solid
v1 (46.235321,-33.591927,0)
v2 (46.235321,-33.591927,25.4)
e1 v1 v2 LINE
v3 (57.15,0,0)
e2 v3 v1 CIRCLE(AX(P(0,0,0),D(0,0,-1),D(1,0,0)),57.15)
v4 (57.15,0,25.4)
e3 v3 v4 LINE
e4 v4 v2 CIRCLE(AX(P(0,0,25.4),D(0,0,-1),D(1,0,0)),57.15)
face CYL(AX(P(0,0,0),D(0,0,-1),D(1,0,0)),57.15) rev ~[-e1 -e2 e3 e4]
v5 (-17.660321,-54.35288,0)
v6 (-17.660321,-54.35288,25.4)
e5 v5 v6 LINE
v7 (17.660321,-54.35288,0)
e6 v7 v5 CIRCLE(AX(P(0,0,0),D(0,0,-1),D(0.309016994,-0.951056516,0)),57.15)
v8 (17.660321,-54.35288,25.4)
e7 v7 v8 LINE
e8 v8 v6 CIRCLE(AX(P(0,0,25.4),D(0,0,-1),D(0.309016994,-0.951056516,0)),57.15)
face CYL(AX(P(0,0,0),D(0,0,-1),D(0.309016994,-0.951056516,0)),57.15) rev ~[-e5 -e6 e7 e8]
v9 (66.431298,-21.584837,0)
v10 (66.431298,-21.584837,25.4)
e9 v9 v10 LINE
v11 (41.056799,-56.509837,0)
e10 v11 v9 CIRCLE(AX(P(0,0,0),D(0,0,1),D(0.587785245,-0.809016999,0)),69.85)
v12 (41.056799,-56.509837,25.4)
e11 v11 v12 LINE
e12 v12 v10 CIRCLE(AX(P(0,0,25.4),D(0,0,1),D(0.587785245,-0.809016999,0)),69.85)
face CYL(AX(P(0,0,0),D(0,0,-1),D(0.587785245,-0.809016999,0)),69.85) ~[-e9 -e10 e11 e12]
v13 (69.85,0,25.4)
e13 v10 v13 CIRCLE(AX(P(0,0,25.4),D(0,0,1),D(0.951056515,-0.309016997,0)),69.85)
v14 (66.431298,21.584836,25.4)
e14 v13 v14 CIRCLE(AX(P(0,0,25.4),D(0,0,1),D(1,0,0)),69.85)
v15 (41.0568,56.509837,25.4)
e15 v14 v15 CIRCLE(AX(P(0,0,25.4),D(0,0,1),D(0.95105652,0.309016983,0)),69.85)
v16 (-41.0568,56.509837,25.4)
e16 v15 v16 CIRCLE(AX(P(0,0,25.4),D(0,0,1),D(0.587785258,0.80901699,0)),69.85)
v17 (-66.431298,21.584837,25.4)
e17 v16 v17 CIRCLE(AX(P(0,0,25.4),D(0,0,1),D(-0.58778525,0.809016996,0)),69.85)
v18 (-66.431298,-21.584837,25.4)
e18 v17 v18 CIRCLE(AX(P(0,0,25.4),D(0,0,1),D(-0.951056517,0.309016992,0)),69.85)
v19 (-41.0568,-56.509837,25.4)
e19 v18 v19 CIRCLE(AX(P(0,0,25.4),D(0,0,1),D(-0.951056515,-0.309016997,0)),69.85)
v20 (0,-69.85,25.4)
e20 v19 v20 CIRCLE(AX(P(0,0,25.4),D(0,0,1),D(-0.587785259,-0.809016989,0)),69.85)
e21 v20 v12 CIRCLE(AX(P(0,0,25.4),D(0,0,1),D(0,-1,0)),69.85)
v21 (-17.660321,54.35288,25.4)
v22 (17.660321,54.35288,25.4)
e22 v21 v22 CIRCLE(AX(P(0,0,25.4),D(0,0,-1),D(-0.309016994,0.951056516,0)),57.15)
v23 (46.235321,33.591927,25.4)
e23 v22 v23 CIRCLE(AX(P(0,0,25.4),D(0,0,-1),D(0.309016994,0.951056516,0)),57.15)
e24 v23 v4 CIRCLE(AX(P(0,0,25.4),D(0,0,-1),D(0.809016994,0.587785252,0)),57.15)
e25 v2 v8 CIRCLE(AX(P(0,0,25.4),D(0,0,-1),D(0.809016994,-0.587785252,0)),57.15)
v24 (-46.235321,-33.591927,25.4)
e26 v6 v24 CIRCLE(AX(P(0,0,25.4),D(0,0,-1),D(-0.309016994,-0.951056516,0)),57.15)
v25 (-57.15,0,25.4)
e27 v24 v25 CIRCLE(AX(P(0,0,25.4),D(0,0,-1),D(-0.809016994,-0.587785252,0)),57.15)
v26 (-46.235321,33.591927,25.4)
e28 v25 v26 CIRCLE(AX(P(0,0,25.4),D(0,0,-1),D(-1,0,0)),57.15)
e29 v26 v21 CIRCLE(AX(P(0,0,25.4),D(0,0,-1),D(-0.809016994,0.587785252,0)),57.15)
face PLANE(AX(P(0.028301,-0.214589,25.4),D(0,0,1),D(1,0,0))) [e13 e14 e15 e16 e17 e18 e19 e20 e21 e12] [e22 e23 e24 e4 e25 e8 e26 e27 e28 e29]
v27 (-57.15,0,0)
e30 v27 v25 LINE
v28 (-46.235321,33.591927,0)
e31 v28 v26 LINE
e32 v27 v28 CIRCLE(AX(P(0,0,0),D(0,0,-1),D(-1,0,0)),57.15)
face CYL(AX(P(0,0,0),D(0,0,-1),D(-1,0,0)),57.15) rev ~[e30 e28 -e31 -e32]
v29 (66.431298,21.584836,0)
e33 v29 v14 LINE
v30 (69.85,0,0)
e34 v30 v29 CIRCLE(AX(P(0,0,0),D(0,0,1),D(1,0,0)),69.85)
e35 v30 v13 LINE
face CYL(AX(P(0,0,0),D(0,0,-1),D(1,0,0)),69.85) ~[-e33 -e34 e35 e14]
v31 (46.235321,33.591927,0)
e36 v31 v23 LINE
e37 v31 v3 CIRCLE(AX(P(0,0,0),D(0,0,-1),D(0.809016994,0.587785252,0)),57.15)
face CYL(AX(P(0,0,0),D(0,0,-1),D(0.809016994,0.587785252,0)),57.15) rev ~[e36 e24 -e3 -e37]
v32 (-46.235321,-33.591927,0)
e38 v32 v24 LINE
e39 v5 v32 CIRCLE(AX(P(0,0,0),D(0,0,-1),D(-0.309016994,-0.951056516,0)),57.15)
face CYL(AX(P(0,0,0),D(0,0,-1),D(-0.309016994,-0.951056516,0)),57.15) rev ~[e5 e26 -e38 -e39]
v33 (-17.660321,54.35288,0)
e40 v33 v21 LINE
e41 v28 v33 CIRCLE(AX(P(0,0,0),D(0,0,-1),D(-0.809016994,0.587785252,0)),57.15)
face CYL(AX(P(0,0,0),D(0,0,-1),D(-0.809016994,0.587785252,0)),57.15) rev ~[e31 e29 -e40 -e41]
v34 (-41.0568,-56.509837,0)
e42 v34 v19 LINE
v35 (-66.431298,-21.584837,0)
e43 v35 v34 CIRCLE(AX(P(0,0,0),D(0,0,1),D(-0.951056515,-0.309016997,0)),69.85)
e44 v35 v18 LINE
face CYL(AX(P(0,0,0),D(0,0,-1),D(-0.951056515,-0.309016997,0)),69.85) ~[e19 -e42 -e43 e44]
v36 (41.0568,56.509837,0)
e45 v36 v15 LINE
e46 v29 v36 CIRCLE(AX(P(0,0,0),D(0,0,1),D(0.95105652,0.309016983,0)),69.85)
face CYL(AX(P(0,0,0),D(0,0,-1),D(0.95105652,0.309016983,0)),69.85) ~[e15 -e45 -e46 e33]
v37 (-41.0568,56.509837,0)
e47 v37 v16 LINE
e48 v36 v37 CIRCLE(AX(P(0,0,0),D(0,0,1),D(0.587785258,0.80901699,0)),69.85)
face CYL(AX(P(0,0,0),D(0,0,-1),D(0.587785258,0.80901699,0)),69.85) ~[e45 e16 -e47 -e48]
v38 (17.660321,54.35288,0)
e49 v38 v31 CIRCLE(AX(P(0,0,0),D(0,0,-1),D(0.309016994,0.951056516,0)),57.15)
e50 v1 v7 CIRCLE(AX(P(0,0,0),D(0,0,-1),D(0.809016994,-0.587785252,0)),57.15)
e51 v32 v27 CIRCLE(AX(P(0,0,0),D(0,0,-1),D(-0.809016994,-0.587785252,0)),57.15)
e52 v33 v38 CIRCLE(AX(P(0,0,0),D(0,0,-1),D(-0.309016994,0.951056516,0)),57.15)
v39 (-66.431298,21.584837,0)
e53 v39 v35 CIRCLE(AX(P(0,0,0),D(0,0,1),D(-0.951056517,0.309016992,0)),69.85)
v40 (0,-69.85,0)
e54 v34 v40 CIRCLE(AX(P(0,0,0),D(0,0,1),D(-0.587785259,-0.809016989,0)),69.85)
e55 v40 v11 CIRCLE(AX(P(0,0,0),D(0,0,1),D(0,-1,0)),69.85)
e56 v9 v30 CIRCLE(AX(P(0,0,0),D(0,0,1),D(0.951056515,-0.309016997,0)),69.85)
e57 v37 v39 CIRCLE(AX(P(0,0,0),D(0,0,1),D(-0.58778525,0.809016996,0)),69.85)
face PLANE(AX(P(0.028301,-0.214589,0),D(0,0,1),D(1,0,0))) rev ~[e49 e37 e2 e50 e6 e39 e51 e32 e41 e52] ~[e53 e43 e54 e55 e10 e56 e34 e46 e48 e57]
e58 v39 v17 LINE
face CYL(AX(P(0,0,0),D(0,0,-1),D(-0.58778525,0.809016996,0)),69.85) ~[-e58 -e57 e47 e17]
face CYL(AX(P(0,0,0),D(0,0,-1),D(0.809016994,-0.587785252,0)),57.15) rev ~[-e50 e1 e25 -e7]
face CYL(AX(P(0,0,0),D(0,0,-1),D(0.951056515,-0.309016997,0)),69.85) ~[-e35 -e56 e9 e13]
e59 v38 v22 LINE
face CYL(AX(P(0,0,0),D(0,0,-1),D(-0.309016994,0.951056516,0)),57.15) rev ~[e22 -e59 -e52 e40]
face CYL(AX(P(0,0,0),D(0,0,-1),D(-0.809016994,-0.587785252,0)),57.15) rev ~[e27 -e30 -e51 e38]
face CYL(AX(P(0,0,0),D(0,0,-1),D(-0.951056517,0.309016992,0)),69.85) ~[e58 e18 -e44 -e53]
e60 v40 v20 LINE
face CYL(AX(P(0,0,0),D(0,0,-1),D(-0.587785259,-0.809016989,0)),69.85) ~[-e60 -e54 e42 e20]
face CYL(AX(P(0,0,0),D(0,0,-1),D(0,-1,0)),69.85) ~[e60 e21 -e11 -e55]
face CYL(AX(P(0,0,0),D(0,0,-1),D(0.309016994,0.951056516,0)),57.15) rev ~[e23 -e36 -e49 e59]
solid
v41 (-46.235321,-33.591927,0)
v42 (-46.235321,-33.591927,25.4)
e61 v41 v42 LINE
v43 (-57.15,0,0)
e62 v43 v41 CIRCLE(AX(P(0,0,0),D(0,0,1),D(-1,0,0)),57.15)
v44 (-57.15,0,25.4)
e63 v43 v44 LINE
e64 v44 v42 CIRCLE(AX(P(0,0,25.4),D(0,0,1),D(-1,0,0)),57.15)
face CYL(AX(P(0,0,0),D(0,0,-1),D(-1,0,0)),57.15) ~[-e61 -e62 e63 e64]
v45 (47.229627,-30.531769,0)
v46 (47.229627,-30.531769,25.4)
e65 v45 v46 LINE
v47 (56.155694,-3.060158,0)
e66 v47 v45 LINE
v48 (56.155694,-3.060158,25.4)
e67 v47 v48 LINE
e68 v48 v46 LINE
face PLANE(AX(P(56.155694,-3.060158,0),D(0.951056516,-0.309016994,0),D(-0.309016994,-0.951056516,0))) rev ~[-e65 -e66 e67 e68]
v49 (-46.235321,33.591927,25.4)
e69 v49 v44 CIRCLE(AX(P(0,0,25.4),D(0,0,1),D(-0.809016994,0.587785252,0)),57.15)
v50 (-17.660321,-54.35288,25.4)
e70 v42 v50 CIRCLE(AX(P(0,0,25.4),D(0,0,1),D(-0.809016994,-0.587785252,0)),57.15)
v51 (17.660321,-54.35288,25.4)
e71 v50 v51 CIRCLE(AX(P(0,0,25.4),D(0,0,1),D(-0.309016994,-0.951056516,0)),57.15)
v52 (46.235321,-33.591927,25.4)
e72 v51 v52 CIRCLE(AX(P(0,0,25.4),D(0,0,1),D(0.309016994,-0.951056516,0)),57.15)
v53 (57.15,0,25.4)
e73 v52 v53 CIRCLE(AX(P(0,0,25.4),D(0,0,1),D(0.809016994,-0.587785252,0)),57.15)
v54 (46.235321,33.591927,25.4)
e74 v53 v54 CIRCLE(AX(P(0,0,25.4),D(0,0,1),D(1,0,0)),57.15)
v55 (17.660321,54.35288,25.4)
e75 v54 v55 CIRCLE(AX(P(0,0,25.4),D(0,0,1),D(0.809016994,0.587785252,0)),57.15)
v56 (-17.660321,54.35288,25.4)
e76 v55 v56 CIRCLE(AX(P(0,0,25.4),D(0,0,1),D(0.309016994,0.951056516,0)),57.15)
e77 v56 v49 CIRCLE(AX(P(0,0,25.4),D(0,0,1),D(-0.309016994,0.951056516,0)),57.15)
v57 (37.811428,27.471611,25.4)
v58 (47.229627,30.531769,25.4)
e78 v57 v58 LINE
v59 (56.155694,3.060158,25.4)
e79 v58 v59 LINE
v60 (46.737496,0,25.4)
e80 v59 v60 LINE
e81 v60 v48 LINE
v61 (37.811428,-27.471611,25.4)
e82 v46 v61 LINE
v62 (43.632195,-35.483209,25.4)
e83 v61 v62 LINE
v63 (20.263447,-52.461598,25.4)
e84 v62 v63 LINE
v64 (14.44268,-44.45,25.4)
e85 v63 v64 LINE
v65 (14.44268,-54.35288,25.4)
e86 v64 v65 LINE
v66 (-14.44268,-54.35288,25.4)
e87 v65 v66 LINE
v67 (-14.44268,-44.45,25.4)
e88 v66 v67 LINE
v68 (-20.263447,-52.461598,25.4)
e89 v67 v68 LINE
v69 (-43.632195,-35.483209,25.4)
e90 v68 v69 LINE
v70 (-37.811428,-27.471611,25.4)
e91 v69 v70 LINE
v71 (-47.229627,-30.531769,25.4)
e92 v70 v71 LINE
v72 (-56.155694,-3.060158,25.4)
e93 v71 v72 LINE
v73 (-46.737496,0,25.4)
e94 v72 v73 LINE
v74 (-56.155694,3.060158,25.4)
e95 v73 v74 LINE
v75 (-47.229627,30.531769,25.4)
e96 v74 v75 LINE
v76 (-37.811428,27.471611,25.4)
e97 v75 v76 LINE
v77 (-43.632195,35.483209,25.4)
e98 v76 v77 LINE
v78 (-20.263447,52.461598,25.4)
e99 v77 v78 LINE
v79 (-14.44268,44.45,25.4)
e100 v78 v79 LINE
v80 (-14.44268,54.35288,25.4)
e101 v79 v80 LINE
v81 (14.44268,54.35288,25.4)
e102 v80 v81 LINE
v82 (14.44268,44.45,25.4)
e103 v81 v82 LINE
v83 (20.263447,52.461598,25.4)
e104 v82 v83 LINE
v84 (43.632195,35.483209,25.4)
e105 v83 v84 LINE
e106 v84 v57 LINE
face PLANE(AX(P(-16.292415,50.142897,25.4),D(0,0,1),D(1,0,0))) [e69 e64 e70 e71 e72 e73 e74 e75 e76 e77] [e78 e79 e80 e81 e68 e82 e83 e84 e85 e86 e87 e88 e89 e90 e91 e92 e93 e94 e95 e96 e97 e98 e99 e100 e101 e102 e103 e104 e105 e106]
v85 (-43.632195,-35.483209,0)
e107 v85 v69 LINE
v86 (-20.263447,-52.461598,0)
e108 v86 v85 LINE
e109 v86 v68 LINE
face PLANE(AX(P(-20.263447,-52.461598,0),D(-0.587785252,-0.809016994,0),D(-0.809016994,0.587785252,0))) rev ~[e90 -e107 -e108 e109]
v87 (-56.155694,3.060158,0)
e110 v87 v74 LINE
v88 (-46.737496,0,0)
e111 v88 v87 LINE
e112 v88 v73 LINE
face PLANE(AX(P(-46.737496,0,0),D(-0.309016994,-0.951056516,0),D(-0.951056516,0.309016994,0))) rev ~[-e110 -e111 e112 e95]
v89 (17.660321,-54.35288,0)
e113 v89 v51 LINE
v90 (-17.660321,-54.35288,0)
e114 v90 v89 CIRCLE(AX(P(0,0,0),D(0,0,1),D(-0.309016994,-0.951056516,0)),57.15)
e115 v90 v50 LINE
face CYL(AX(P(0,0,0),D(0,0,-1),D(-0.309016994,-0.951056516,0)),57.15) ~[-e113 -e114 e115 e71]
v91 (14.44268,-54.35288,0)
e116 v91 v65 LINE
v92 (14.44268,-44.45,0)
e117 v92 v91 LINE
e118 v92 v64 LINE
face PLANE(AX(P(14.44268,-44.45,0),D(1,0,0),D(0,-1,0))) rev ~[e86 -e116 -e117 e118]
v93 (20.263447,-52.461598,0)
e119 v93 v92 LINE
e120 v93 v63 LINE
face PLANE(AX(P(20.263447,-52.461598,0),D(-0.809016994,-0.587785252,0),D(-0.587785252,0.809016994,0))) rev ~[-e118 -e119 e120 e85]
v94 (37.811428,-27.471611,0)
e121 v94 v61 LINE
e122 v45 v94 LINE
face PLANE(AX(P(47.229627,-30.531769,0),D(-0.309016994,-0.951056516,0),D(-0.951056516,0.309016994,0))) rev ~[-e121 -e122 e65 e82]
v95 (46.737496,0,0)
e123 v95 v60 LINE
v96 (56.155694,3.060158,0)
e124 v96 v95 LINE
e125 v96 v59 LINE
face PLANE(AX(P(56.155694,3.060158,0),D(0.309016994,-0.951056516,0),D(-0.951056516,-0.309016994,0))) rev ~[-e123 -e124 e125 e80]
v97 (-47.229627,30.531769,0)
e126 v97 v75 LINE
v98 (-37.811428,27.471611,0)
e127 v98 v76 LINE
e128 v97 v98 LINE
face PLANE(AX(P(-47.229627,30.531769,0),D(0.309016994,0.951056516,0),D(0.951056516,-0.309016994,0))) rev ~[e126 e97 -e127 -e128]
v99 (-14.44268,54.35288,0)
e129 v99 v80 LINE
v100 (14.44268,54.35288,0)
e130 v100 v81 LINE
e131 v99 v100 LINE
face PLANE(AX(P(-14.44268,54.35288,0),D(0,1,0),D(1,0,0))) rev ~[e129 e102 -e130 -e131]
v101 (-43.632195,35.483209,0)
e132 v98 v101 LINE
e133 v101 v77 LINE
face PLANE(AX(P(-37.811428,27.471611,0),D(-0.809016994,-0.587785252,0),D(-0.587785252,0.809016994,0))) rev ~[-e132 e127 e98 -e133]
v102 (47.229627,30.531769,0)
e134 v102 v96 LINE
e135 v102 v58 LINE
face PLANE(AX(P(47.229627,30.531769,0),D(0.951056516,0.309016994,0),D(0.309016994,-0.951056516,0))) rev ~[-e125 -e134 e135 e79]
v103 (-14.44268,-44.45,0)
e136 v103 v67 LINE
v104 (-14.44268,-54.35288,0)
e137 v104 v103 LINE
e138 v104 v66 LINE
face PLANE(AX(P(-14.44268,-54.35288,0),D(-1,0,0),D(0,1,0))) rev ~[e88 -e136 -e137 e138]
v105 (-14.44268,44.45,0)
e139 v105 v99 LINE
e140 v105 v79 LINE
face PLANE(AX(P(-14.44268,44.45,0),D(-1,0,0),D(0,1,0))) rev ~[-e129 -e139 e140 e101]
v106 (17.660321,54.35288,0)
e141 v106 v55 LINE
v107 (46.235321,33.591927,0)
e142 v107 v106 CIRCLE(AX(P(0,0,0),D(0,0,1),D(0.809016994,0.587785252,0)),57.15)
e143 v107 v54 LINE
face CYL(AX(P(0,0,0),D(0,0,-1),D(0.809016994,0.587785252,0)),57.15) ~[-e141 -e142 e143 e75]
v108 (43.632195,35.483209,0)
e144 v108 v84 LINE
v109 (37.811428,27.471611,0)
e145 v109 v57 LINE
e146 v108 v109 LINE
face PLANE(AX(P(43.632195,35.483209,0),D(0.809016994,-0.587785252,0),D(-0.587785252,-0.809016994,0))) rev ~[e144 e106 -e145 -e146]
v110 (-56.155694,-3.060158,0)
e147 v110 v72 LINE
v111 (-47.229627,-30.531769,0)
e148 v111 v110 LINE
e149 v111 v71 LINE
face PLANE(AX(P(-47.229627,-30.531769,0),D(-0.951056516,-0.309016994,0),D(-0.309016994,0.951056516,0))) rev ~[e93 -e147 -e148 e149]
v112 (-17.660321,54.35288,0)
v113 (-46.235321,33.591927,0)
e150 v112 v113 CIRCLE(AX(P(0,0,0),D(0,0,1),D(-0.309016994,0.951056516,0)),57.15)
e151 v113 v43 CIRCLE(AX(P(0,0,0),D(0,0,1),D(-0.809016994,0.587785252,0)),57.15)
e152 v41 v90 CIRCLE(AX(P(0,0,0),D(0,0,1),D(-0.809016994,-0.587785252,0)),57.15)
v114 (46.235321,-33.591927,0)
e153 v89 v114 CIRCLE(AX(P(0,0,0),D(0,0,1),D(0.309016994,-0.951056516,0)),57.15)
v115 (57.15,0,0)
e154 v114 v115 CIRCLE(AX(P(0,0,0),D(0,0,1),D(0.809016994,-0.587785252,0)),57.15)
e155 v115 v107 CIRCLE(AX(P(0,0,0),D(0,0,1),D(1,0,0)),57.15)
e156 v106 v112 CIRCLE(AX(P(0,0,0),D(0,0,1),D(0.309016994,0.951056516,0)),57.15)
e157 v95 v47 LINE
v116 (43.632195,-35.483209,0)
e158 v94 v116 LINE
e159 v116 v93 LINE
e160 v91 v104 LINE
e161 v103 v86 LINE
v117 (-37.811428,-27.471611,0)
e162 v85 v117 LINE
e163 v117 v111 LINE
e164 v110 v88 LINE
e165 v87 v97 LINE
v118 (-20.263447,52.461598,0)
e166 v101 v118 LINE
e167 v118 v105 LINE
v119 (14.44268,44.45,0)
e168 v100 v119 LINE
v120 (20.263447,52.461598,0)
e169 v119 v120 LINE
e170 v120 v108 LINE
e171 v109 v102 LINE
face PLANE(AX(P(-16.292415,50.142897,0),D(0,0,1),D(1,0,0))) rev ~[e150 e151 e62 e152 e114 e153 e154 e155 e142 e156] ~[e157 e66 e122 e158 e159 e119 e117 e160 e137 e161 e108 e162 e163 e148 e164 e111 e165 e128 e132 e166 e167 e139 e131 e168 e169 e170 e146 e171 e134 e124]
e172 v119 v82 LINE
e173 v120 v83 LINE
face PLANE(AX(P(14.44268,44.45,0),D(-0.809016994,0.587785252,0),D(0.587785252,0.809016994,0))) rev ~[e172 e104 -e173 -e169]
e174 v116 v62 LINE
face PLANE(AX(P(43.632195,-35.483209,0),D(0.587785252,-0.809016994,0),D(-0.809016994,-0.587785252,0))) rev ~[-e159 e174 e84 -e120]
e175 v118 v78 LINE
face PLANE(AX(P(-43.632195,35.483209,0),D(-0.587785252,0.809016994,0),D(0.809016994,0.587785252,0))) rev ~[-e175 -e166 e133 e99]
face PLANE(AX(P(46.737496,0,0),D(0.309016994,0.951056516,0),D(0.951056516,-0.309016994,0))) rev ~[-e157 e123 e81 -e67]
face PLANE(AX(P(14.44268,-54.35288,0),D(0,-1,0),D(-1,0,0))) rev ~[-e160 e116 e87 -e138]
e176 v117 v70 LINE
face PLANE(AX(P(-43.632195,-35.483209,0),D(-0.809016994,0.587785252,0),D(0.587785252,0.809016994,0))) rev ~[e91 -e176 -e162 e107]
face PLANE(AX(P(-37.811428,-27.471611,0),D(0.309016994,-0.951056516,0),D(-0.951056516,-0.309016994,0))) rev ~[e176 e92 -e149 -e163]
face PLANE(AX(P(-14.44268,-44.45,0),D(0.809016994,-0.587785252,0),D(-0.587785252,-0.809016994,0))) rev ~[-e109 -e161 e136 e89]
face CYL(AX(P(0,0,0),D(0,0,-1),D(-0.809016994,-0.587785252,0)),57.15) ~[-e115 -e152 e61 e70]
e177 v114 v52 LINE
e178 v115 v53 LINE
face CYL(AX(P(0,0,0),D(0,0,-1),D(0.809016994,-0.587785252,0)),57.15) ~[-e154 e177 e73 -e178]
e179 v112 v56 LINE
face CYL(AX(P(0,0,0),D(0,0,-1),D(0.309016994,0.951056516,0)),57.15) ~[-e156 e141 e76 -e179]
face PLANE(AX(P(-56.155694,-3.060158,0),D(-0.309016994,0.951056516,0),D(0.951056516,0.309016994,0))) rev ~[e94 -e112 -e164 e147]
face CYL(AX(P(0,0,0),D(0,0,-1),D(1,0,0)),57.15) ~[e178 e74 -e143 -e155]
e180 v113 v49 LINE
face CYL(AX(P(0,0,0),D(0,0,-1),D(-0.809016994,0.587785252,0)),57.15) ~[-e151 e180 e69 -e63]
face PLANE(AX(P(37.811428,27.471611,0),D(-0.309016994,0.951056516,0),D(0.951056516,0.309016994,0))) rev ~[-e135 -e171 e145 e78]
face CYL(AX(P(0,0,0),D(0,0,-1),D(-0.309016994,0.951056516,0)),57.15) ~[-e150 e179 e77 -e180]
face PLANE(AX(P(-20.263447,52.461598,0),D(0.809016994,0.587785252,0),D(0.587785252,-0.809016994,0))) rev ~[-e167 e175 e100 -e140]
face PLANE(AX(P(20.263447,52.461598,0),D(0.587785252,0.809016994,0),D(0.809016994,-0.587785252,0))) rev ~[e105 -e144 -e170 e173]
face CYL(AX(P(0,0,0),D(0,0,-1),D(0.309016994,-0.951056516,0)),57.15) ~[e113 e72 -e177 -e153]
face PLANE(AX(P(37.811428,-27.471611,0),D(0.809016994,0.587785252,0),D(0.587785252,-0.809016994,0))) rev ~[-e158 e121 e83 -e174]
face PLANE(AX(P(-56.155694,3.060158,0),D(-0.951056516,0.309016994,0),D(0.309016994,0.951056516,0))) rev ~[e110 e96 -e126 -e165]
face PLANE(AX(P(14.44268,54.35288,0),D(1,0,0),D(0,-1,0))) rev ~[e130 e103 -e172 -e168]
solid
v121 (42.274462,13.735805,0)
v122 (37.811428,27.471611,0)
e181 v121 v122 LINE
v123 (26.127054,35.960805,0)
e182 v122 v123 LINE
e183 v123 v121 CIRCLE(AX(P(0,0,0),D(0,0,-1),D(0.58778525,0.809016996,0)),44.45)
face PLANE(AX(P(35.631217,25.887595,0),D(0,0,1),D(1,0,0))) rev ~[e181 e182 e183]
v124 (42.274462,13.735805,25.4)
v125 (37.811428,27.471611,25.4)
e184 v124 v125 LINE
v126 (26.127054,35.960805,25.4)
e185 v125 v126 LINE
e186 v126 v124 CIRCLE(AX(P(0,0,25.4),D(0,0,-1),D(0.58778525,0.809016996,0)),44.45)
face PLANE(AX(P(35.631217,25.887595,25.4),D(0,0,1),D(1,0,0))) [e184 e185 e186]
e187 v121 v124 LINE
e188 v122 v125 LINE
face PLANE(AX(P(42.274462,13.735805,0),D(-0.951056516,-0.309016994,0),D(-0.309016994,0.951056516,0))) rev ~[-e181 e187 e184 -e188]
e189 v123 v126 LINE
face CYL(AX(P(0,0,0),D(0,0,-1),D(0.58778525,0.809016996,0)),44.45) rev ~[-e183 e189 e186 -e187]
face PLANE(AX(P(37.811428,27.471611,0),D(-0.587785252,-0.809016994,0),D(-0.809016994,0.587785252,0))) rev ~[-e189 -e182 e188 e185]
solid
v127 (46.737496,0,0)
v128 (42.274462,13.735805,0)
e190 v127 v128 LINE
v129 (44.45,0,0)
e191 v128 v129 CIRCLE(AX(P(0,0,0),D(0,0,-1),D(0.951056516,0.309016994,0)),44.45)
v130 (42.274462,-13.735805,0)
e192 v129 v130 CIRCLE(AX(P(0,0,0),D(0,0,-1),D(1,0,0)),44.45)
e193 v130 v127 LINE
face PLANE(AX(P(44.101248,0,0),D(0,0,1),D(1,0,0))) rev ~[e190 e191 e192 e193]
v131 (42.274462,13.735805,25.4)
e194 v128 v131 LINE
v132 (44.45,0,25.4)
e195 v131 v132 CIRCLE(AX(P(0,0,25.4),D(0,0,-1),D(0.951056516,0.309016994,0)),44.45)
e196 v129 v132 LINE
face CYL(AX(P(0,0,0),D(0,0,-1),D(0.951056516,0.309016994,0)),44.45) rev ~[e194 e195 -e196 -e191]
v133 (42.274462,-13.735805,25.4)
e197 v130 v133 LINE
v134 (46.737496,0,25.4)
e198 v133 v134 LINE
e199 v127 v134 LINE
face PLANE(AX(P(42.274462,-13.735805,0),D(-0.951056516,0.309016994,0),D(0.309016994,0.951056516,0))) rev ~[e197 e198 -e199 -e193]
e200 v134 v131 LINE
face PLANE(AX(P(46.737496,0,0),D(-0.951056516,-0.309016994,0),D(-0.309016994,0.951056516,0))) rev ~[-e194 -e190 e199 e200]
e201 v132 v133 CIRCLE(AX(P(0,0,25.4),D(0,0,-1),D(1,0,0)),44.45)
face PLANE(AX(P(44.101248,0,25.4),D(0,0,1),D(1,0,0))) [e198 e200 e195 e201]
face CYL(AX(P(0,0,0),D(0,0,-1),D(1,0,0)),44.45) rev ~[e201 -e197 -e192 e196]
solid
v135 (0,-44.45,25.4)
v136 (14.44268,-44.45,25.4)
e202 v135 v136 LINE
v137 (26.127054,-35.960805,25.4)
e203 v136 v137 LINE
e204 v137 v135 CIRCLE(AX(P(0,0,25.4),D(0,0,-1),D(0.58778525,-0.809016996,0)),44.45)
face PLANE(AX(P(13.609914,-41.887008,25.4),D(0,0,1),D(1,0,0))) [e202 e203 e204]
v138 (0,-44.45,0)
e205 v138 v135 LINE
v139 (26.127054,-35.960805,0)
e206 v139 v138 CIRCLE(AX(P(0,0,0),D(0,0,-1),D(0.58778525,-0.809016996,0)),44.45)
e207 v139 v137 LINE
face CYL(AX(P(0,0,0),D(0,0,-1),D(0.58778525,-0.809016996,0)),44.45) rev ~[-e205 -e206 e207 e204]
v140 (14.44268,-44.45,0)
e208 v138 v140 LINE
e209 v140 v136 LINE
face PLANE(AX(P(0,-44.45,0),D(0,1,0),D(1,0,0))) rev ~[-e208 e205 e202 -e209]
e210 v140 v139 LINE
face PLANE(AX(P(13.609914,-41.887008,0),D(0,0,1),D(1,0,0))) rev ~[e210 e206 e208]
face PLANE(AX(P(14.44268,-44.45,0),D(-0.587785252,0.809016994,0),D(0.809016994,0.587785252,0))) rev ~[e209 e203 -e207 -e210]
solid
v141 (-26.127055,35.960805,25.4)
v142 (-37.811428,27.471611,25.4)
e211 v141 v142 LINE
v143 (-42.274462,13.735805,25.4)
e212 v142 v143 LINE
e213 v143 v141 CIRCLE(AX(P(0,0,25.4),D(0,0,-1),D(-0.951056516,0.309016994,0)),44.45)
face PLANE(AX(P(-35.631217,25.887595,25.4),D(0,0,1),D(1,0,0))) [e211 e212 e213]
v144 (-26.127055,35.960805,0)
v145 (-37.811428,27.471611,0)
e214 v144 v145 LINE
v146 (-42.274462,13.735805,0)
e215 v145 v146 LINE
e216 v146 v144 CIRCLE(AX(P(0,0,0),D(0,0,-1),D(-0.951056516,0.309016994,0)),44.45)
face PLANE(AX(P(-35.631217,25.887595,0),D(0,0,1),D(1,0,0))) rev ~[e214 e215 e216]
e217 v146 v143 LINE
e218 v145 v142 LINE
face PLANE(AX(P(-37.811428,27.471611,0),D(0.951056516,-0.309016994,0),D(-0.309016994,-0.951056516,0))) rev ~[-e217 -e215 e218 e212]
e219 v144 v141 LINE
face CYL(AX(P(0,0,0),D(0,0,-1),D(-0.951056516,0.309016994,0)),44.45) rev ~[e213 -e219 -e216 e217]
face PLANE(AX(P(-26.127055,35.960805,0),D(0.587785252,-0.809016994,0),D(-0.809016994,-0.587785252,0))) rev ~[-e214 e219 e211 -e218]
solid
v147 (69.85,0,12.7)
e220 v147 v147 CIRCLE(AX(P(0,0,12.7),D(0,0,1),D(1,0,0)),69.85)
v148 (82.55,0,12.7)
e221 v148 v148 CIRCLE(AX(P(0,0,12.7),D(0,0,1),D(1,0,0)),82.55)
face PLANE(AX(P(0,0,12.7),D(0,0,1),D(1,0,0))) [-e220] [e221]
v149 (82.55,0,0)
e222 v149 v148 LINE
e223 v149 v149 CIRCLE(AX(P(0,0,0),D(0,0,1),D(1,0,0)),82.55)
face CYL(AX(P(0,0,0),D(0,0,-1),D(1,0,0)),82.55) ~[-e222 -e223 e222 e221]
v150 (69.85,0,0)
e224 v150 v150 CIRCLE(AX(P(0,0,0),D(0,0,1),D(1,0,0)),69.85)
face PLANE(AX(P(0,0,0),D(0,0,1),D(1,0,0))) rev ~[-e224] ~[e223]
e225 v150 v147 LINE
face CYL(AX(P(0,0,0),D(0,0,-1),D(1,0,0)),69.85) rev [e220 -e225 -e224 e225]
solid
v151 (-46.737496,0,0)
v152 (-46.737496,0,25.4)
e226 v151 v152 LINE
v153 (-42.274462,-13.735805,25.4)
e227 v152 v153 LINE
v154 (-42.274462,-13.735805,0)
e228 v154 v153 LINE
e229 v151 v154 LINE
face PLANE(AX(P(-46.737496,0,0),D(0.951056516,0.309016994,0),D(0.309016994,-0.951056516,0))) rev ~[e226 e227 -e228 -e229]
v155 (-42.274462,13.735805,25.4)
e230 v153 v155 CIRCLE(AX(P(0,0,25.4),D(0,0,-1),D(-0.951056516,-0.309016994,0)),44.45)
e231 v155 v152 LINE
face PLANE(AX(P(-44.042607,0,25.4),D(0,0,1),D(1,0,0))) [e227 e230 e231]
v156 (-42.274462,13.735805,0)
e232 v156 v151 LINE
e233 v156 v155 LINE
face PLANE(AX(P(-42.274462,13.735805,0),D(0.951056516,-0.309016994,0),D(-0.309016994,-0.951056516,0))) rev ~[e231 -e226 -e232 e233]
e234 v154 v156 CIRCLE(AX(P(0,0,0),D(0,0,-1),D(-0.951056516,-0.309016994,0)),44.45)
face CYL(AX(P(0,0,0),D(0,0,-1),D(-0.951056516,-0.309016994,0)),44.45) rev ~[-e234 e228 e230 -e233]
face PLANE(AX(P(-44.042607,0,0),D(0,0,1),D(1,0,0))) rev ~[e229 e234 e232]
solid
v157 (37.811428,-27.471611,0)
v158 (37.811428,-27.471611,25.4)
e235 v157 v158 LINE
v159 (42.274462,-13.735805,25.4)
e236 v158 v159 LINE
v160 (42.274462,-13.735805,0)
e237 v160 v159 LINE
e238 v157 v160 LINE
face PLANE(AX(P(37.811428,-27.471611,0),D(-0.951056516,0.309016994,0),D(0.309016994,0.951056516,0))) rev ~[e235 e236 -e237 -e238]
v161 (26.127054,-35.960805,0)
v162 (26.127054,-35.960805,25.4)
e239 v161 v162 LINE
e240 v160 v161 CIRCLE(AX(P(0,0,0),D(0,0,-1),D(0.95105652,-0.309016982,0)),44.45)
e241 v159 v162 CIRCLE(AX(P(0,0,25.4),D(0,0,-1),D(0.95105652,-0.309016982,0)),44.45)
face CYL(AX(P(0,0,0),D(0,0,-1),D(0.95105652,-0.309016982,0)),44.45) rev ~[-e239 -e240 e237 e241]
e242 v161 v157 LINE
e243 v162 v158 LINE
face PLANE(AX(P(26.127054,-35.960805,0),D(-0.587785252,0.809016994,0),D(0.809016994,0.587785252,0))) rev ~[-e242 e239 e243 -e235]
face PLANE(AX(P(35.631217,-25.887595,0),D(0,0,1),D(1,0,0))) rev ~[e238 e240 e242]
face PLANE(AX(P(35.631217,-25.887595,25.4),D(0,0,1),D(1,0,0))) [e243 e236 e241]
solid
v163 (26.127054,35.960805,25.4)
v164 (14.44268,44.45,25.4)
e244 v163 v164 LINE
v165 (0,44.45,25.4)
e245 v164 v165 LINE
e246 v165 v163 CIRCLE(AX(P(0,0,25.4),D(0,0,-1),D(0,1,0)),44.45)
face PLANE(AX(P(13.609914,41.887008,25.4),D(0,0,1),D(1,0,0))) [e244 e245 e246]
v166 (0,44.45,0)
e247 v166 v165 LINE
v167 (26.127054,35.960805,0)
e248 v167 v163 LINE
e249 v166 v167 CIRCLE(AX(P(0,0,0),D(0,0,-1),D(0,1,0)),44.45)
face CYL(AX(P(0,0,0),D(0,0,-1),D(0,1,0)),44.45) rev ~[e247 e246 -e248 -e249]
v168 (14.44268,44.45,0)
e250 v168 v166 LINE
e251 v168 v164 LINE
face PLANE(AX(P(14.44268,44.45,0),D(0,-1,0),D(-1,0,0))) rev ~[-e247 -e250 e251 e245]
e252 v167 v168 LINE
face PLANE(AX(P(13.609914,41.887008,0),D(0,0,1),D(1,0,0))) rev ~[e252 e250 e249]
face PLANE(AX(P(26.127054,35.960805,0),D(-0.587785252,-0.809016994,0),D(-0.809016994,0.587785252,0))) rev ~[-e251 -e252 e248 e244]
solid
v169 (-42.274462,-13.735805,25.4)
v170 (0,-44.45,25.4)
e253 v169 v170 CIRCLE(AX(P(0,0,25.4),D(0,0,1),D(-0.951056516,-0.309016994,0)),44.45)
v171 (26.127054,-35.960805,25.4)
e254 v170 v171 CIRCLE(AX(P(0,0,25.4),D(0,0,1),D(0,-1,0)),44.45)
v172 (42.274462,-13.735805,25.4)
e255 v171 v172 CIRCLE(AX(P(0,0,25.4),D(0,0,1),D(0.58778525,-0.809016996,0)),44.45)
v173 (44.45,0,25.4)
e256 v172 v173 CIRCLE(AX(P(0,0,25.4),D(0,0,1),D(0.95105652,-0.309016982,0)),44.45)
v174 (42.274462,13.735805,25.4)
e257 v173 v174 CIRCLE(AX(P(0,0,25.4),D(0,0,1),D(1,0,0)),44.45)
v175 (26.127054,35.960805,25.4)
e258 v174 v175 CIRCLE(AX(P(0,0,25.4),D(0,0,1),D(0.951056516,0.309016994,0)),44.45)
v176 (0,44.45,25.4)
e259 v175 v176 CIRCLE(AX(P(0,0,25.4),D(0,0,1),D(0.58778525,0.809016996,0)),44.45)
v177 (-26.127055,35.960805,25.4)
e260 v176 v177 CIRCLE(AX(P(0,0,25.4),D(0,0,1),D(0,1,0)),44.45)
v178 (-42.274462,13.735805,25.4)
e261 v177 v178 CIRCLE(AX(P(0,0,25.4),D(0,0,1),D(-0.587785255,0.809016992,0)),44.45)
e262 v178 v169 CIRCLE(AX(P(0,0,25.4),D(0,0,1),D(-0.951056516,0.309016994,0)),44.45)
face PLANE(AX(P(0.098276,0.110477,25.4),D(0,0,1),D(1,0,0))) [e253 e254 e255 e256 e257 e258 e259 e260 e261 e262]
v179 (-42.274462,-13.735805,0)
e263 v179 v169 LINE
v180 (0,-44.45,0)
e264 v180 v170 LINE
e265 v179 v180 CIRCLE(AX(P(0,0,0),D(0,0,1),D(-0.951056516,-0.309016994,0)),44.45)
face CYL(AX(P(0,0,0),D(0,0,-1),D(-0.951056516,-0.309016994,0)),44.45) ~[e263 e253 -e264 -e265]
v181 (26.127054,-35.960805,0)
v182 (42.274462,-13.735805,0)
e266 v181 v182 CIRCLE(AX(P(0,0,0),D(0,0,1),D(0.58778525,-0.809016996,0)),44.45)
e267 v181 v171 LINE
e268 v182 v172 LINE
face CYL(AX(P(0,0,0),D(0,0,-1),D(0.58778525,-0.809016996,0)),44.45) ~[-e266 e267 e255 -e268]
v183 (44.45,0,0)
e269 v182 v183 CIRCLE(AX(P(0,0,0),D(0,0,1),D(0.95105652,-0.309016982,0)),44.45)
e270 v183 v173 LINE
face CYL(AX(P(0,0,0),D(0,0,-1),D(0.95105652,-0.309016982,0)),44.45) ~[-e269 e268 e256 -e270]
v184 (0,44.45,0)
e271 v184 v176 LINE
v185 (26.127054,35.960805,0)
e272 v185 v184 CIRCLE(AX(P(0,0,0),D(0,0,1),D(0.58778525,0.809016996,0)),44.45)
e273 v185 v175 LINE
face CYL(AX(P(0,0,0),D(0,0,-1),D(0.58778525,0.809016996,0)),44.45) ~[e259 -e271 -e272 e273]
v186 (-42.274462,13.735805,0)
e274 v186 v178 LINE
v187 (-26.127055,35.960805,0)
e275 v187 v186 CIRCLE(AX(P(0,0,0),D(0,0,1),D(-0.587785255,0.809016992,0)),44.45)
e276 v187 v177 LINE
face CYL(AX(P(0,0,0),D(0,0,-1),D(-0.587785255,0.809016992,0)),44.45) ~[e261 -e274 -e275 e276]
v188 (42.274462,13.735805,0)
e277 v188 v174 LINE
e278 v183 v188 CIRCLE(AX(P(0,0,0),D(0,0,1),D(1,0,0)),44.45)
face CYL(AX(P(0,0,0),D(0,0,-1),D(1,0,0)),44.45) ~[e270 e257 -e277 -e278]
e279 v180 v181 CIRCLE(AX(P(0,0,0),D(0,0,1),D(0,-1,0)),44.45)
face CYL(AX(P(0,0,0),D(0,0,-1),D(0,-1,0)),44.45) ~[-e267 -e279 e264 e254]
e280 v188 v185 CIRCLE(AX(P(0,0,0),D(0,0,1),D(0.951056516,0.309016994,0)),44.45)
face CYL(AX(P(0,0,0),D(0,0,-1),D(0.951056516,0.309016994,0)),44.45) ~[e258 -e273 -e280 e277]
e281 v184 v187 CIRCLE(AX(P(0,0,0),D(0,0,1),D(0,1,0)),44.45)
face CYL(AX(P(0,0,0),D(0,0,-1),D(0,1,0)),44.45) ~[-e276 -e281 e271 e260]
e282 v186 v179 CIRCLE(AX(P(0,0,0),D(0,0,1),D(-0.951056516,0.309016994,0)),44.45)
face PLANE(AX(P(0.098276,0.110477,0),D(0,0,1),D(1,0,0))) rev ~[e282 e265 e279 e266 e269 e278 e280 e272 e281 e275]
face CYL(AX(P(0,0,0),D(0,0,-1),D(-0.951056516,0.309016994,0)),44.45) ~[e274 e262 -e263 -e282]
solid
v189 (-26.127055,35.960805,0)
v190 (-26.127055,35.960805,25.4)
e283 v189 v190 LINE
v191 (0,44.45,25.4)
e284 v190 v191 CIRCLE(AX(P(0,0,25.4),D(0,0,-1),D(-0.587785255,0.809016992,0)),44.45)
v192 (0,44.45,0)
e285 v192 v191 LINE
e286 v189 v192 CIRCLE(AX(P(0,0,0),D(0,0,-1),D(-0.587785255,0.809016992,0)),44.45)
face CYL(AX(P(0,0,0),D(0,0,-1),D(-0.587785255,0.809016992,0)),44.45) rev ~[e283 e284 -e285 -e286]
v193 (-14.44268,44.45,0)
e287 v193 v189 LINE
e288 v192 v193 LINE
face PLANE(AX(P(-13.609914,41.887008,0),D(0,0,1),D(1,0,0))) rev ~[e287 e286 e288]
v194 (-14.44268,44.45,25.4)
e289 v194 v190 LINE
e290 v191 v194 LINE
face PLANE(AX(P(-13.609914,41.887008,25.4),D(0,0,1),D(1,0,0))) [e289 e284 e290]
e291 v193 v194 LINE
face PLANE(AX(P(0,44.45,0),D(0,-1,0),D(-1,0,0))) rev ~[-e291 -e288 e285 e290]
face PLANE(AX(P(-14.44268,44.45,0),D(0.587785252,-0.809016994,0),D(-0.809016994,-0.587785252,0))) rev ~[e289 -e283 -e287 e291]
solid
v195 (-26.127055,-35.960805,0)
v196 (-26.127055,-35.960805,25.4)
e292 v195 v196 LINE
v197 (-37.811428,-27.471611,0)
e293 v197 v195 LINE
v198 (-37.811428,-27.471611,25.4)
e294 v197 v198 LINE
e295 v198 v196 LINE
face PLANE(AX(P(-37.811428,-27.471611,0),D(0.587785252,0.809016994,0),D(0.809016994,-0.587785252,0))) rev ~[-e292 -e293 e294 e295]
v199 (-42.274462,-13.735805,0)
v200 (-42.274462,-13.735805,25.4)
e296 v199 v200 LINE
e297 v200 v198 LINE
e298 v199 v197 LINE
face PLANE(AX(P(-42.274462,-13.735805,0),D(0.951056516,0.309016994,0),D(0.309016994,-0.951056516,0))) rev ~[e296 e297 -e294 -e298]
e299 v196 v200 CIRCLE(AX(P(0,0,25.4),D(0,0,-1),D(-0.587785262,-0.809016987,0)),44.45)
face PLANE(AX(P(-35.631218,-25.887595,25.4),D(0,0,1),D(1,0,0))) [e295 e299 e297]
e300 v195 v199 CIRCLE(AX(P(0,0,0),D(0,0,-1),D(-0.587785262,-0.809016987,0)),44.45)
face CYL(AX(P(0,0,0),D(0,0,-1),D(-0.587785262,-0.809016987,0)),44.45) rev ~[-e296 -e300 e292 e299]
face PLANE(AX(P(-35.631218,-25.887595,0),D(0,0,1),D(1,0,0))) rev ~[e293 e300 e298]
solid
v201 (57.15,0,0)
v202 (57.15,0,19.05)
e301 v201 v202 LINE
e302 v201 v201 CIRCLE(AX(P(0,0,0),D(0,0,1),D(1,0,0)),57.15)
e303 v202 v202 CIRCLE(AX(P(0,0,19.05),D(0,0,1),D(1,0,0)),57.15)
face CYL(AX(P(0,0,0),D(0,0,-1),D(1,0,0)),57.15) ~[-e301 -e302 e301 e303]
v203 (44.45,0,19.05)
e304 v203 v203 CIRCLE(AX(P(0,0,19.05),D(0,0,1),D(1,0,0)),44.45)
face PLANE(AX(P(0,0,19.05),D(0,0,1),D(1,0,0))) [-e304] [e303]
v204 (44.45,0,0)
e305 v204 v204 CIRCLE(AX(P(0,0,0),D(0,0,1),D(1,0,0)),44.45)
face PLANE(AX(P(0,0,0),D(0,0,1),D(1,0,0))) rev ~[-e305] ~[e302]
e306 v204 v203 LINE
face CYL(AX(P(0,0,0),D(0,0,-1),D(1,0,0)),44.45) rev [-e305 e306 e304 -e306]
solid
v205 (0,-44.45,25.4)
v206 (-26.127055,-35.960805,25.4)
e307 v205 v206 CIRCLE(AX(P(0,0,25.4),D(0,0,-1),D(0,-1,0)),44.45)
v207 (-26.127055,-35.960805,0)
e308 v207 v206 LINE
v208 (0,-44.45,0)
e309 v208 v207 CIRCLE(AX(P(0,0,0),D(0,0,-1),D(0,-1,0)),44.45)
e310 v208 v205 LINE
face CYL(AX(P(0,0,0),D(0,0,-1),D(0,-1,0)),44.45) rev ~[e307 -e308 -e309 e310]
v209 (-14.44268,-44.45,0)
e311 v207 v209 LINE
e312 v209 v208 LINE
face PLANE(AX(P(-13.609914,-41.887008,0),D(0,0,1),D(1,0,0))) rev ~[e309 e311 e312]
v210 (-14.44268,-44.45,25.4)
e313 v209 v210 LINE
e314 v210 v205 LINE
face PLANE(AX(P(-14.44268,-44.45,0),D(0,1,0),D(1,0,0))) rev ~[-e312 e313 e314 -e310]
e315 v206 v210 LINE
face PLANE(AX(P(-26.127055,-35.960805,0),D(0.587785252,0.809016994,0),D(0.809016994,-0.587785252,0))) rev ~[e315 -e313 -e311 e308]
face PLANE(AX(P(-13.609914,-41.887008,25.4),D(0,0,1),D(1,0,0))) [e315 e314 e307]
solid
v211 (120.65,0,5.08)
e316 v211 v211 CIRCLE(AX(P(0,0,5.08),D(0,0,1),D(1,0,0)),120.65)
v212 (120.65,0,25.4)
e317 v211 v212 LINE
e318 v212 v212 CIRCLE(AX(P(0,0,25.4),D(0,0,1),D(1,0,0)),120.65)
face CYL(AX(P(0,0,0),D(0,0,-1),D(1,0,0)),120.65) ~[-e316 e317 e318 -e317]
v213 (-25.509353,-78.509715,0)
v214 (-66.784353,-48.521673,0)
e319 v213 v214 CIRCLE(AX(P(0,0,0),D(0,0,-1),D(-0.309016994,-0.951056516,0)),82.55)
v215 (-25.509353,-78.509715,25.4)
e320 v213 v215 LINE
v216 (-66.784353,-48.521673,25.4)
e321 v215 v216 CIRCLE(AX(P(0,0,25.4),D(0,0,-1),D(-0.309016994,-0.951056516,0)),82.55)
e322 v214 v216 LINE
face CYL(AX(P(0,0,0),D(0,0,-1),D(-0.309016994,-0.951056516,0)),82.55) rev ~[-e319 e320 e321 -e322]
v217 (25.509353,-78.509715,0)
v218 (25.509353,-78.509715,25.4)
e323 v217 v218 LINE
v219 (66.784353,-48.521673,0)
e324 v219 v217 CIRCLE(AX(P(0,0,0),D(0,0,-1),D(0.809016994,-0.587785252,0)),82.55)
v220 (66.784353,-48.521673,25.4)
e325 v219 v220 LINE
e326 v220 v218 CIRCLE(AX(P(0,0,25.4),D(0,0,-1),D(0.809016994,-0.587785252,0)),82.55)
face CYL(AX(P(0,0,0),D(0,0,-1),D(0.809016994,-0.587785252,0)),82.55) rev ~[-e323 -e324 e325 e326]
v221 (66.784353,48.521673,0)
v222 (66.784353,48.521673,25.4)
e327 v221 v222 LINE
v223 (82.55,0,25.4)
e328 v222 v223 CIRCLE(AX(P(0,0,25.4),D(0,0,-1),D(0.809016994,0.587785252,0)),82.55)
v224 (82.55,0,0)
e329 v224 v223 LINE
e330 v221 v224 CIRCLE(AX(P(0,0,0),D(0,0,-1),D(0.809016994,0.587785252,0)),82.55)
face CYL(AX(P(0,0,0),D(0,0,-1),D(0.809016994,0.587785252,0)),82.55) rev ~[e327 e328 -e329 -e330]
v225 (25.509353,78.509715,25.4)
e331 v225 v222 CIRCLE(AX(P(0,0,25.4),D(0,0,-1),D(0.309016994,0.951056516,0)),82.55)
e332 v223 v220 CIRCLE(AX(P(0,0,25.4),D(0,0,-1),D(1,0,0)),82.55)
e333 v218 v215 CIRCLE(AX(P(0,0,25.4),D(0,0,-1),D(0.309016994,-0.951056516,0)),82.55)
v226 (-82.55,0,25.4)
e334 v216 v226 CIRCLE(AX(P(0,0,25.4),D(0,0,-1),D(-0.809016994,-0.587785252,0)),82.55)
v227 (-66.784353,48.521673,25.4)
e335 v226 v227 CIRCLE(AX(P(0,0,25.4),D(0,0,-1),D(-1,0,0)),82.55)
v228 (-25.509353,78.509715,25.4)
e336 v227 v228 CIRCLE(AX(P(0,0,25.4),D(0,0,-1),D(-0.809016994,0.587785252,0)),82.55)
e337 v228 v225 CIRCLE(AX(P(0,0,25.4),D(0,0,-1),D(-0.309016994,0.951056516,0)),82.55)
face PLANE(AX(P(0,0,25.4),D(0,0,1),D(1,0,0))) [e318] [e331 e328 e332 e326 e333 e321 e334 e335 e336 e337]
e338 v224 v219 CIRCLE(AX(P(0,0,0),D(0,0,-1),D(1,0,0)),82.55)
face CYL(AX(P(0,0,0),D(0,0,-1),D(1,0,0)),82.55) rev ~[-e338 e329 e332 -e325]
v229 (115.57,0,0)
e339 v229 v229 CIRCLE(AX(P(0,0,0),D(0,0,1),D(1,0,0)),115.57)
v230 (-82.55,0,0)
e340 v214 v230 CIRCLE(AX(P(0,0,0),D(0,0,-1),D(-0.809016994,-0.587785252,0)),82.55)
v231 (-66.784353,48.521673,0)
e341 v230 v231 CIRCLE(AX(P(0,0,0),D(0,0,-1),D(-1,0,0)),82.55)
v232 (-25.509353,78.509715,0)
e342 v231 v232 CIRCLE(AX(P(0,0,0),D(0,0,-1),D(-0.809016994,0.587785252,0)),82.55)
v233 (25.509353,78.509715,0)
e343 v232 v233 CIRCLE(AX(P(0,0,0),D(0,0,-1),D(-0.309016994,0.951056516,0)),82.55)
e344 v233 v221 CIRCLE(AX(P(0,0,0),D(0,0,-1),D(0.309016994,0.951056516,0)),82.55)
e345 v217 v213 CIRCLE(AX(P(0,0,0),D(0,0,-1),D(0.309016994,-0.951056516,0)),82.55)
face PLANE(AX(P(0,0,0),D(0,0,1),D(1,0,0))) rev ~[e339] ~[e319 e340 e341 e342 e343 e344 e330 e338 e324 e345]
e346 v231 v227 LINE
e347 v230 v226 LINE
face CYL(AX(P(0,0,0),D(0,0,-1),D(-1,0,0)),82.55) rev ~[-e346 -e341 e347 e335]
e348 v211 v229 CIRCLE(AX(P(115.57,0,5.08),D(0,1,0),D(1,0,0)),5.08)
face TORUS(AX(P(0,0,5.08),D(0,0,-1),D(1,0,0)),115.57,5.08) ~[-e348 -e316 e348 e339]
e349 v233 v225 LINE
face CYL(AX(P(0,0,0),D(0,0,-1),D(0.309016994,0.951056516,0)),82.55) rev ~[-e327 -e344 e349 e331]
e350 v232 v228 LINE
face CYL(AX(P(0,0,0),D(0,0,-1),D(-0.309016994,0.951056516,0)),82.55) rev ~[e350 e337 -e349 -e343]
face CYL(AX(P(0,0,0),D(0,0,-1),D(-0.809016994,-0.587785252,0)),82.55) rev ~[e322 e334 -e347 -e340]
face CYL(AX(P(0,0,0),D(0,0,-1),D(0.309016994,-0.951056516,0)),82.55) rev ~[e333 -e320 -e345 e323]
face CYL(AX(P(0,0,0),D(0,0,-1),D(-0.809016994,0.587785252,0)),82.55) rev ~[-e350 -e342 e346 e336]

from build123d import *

# Parameters (mm, degrees)
F0_R     = 120.65
F1_DEPTH = 25.4
F2_R     = 82.55
F2_R_2   = 69.85
F3_DEPTH = 12.7
F2_R_3   = 57.15
F2_R_4   = 44.45
F4_DEPTH = 19.05
F5_R     = 5.08
F6_DEPTH = 25.4


with BuildPart() as f1:
    # F0 (on Top) → F1 (new body)
    with BuildSketch(Plane.XY):
        Circle(F0_R)
        with BuildLine():
            ThreePointArc((25.5093528857, -78.5097154202), (0, -82.55), (-25.5093528857, -78.5097154202))
            ThreePointArc((-25.5093528857, -78.5097154202), (-48.5216725767, -66.7843528857), (-66.7843528857, -48.5216725767))
            ThreePointArc((-66.7843528857, -48.5216725767), (-78.5097154202, -25.5093528857), (-82.55, 0))
            ThreePointArc((-82.55, 0), (-78.5097154202, 25.5093528857), (-66.7843528857, 48.5216725767))
            ThreePointArc((-66.7843528857, 48.5216725767), (-48.5216725767, 66.7843528857), (-25.5093528857, 78.5097154202))
            ThreePointArc((-25.5093528857, 78.5097154202), (0, 82.55), (25.5093528857, 78.5097154202))
            ThreePointArc((25.5093528857, 78.5097154202), (48.5216725767, 66.7843528857), (66.7843528857, 48.5216725767))
            ThreePointArc((66.7843528857, 48.5216725767), (78.5097154202, 25.5093528857), (82.55, 0))
            ThreePointArc((82.55, 0), (78.5097154202, -25.5093528857), (66.7843528857, -48.5216725767))
            ThreePointArc((66.7843528857, -48.5216725767), (48.5216725767, -66.7843528857), (25.5093528857, -78.5097154202))
        make_face(mode=Mode.SUBTRACT)
    extrude(amount=F1_DEPTH)

    # F5
    f5_edges = [f1.edges().sort_by_distance(p)[0] for p in [
        (-120.65, 0, 0),
    ]]
    fillet(f5_edges, radius=F5_R)


with BuildPart() as f1b:
    # F0 (on Top) → F1, piece 2 (new body)
    with BuildSketch(Plane.XY):
        with BuildLine():
            ThreePointArc((66.4312976021, -21.5848372453), (68.9900305751, -10.9269474808), (69.85, 0))
            ThreePointArc((69.85, 0), (68.9900306537, 10.9269469846), (66.4312979125, 21.5848362898))
            ThreePointArc((66.4312979125, 21.5848362898), (56.509837448, 41.0567993346), (41.056800296, 56.5098367495))
            ThreePointArc((41.056800296, 56.5098367495), (21.5848373059, 66.4312975824), (0, 69.85))
            ThreePointArc((0, 69.85), (-21.5848369481, 66.4312976986), (-41.0567996872, 56.5098371918))
            ThreePointArc((-41.0567996872, 56.5098371918), (-56.5098370444, 41.0567998901), (-66.4312977207, 21.5848368803))
            ThreePointArc((-66.4312977207, 21.5848368803), (-69.85, -1.919e-07), (-66.4312976021, -21.5848372453))
            ThreePointArc((-66.4312976021, -21.5848372453), (-56.5098371746, -41.0567997109), (-41.0568003562, -56.5098367057))
            ThreePointArc((-41.0568003562, -56.5098367057), (-21.5848373413, -66.4312975709), (0, -69.85))
            ThreePointArc((0, -69.85), (21.5848367731, -66.4312977555), (41.0567993894, -56.5098374082))
            ThreePointArc((41.0567993894, -56.5098374082), (56.5098368234, -41.0568001943), (66.4312976021, -21.5848372453))
        make_face()
        with BuildLine():
            ThreePointArc((17.6603212285, 54.3528799063), (33.5919271685, 46.2353212285), (46.2353212285, 33.5919271685))
            ThreePointArc((46.2353212285, 33.5919271685), (54.3528799063, 17.6603212285), (57.15, 0))
            ThreePointArc((57.15, 0), (54.3528799063, -17.6603212285), (46.2353212285, -33.5919271685))
            ThreePointArc((46.2353212285, -33.5919271685), (33.5919271685, -46.2353212285), (17.6603212285, -54.3528799063))
            ThreePointArc((17.6603212285, -54.3528799063), (0, -57.15), (-17.6603212285, -54.3528799063))
            ThreePointArc((-17.6603212285, -54.3528799063), (-33.5919271685, -46.2353212285), (-46.2353212285, -33.5919271685))
            ThreePointArc((-46.2353212285, -33.5919271685), (-54.3528799063, -17.6603212285), (-57.15, 0))
            ThreePointArc((-57.15, 0), (-54.3528799063, 17.6603212285), (-46.2353212285, 33.5919271685))
            ThreePointArc((-46.2353212285, 33.5919271685), (-33.5919271685, 46.2353212285), (-17.6603212285, 54.3528799063))
            ThreePointArc((-17.6603212285, 54.3528799063), (0, 57.15), (17.6603212285, 54.3528799063))
        make_face(mode=Mode.SUBTRACT)
    extrude(amount=F1_DEPTH)


with BuildPart() as f1c:
    # F0 (on Top) → F1, piece 3 (new body)
    with BuildSketch(Plane.XY):
        with BuildLine():
            ThreePointArc((42.2744623313, -13.7358048399), (43.9027467855, -6.9535116802), (44.45, 0))
            ThreePointArc((44.45, 0), (43.9027467394, 6.9535119712), (42.2744621492, 13.7358054003))
            ThreePointArc((42.2744621492, 13.7358054003), (35.9608053613, 26.1270545177), (26.1270543581, 35.9608054772))
            ThreePointArc((26.1270543581, 35.9608054772), (13.7358053375, 42.2744621696), (0, 44.45))
            ThreePointArc((0, 44.45), (-13.7358054792, 42.2744621236), (-26.1270545992, 35.960805302))
            ThreePointArc((-26.1270545992, 35.960805302), (-35.9608054489, 26.1270543971), (-42.2744621492, 13.7358054003))
            ThreePointArc((-42.2744621492, 13.7358054003), (-44.45, 0), (-42.2744621492, -13.7358054003))
            ThreePointArc((-42.2744621492, -13.7358054003), (-35.9608055571, -26.1270542481), (-26.1270548973, -35.9608050854))
            ThreePointArc((-26.1270548973, -35.9608050854), (-13.7358056544, -42.2744620666), (0, -44.45))
            ThreePointArc((0, -44.45), (13.7358053375, -42.2744621696), (26.1270543581, -35.9608054772))
            ThreePointArc((26.1270543581, -35.9608054772), (35.9608055344, -26.1270542793), (42.2744623313, -13.7358048399))
        make_face()
    extrude(amount=F1_DEPTH)


with BuildPart() as f3:
    # F2 (on Top) → F3 (new body)
    with BuildSketch(Plane.XY):
        Circle(F2_R)
        Circle(F2_R_2, mode=Mode.SUBTRACT)
    extrude(amount=F3_DEPTH)


with BuildPart() as f4:
    # F2 (on Top) → F4 (new body)
    with BuildSketch(Plane.XY):
        Circle(F2_R_3)
        Circle(F2_R_4, mode=Mode.SUBTRACT)
    extrude(amount=F4_DEPTH)


with BuildPart() as f6:
    # F0 (on Top) → F6 (new body)
    with BuildSketch(Plane.XY):
        Polygon((-20.2634472617, 52.4615981374), (-14.4426804976, 44.45), (-14.4426804976, 54.3528799063), (-17.6603212285, 54.3528799063), align=None)
        with BuildLine():
            Line((-14.4426804976, 54.3528799063), (14.4426804976, 54.3528799063))
            Line((14.4426804976, 54.3528799063), (17.6603212285, 54.3528799063))
            ThreePointArc((17.6603212285, 54.3528799063), (0, 57.15), (-17.6603212285, 54.3528799063))
            Line((-17.6603212285, 54.3528799063), (-14.4426804976, 54.3528799063))
        make_face()
        with BuildLine():
            Line((-43.6321951954, 35.4832089374), (-20.2634472617, 52.4615981374))
            Line((-20.2634472617, 52.4615981374), (-17.6603212285, 54.3528799063))
            ThreePointArc((-17.6603212285, 54.3528799063), (-33.5919271685, 46.2353212285), (-46.2353212285, 33.5919271685))
            Line((-46.2353212285, 33.5919271685), (-43.6321951954, 35.4832089374))
        make_face()
        Polygon((14.4426804976, 54.3528799063), (14.4426804976, 44.45), (20.2634472617, 52.4615981374), (17.6603212285, 54.3528799063), align=None)
        with BuildLine():
            Line((20.2634472617, 52.4615981374), (43.6321951954, 35.4832089374))
            Line((43.6321951954, 35.4832089374), (46.2353212285, 33.5919271685))
            ThreePointArc((46.2353212285, 33.5919271685), (33.5919271685, 46.2353212285), (17.6603212285, 54.3528799063))
            Line((17.6603212285, 54.3528799063), (20.2634472617, 52.4615981374))
        make_face()
        Polygon((43.6321951954, 35.4832089374), (37.8114284312, 27.4716107999), (47.2296268962, 30.5317689842), (46.2353212285, 33.5919271685), align=None)
        with BuildLine():
            Line((46.2353212285, 33.5919271685), (47.2296268962, 30.5317689842))
            Line((47.2296268962, 30.5317689842), (56.1556943323, 3.0601581843))
            Line((56.1556943323, 3.0601581843), (57.15, 0))
            ThreePointArc((57.15, 0), (54.3528799063, 17.6603212285), (46.2353212285, 33.5919271685))
        make_face()
        Polygon((56.1556943323, 3.0601581843), (46.7374958674, 0), (56.1556943323, -3.0601581843), (57.15, 0), align=None)
        with BuildLine():
            Line((57.15, 0), (56.1556943323, -3.0601581843))
            Line((56.1556943323, -3.0601581843), (47.2296268962, -30.5317689842))
            Line((47.2296268962, -30.5317689842), (46.2353212285, -33.5919271685))
            ThreePointArc((46.2353212285, -33.5919271685), (54.3528799063, -17.6603212285), (57.15, 0))
        make_face()
        Polygon((47.2296268962, -30.5317689842), (37.8114284312, -27.4716107999), (43.6321951954, -35.4832089374), (46.2353212285, -33.5919271685), align=None)
        with BuildLine():
            Line((46.2353212285, -33.5919271685), (43.6321951954, -35.4832089374))
            Line((43.6321951954, -35.4832089374), (20.2634472617, -52.4615981374))
            Line((20.2634472617, -52.4615981374), (17.6603212285, -54.3528799063))
            ThreePointArc((17.6603212285, -54.3528799063), (33.5919271685, -46.2353212285), (46.2353212285, -33.5919271685))
        make_face()
        with BuildLine():
            Line((17.6603212285, -54.3528799063), (14.4426804976, -54.3528799063))
            Line((14.4426804976, -54.3528799063), (-14.4426804976, -54.3528799063))
            Line((-14.4426804976, -54.3528799063), (-17.6603212285, -54.3528799063))
            ThreePointArc((-17.6603212285, -54.3528799063), (0, -57.15), (17.6603212285, -54.3528799063))
        make_face()
        Polygon((20.2634472617, -52.4615981374), (14.4426804976, -44.45), (14.4426804976, -54.3528799063), (17.6603212285, -54.3528799063), align=None)
        Polygon((-14.4426804976, -54.3528799063), (-14.4426804976, -44.45), (-20.2634472617, -52.4615981374), (-17.6603212285, -54.3528799063), align=None)
        with BuildLine():
            Line((-17.6603212285, -54.3528799063), (-20.2634472617, -52.4615981374))
            Line((-20.2634472617, -52.4615981374), (-43.6321951954, -35.4832089374))
            Line((-43.6321951954, -35.4832089374), (-46.2353212285, -33.5919271685))
            ThreePointArc((-46.2353212285, -33.5919271685), (-33.5919271685, -46.2353212285), (-17.6603212285, -54.3528799063))
        make_face()
        Polygon((-43.6321951954, -35.4832089374), (-37.8114284312, -27.4716107999), (-47.2296268962, -30.5317689842), (-46.2353212285, -33.5919271685), align=None)
        with BuildLine():
            Line((-46.2353212285, -33.5919271685), (-47.2296268962, -30.5317689842))
            Line((-47.2296268962, -30.5317689842), (-56.1556943323, -3.0601581843))
            Line((-56.1556943323, -3.0601581843), (-57.15, 0))
            ThreePointArc((-57.15, 0), (-54.3528799063, -17.6603212285), (-46.2353212285, -33.5919271685))
        make_face()
        Polygon((-56.1556943323, -3.0601581843), (-46.7374958674, 0), (-56.1556943323, 3.0601581843), (-57.15, 0), align=None)
        with BuildLine():
            Line((-56.1556943323, 3.0601581843), (-47.2296268962, 30.5317689842))
            Line((-47.2296268962, 30.5317689842), (-46.2353212285, 33.5919271685))
            ThreePointArc((-46.2353212285, 33.5919271685), (-54.3528799063, 17.6603212285), (-57.15, 0))
            Line((-57.15, 0), (-56.1556943323, 3.0601581843))
        make_face()
        Polygon((-47.2296268962, 30.5317689842), (-37.8114284312, 27.4716107999), (-43.6321951954, 35.4832089374), (-46.2353212285, 33.5919271685), align=None)
    extrude(amount=F6_DEPTH)


with BuildPart() as f6b:
    # F0 (on Top) → F6, piece 2 (new body)
    with BuildSketch(Plane.XY):
        with BuildLine():
            ThreePointArc((-26.1270545992, 35.960805302), (-13.7358054792, 42.2744621236), (0, 44.45))
            Line((0, 44.45), (-14.4426804976, 44.45))
            Line((-14.4426804976, 44.45), (-26.1270545992, 35.960805302))
        make_face()
    extrude(amount=F6_DEPTH)


with BuildPart() as f6c:
    # F0 (on Top) → F6, piece 3 (new body)
    with BuildSketch(Plane.XY):
        with BuildLine():
            ThreePointArc((0, 44.45), (13.7358053375, 42.2744621696), (26.1270543581, 35.9608054772))
            Line((26.1270543581, 35.9608054772), (14.4426804976, 44.45))
            Line((14.4426804976, 44.45), (0, 44.45))
        make_face()
    extrude(amount=F6_DEPTH)


with BuildPart() as f6d:
    # F0 (on Top) → F6, piece 4 (new body)
    with BuildSketch(Plane.XY):
        with BuildLine():
            ThreePointArc((26.1270543581, 35.9608054772), (35.9608053613, 26.1270545177), (42.2744621492, 13.7358054003))
            Line((42.2744621492, 13.7358054003), (37.8114284312, 27.4716107999))
            Line((37.8114284312, 27.4716107999), (26.1270543581, 35.9608054772))
        make_face()
    extrude(amount=F6_DEPTH)


with BuildPart() as f6e:
    # F0 (on Top) → F6, piece 5 (new body)
    with BuildSketch(Plane.XY):
        with BuildLine():
            ThreePointArc((42.2744621492, 13.7358054003), (43.9027467394, 6.9535119712), (44.45, 0))
            ThreePointArc((44.45, 0), (43.9027467855, -6.9535116802), (42.2744623313, -13.7358048399))
            Line((42.2744623313, -13.7358048399), (46.7374958674, 0))
            Line((46.7374958674, 0), (42.2744621492, 13.7358054003))
        make_face()
    extrude(amount=F6_DEPTH)


with BuildPart() as f6f:
    # F0 (on Top) → F6, piece 6 (new body)
    with BuildSketch(Plane.XY):
        with BuildLine():
            Line((37.8114284312, -27.4716107999), (42.2744623313, -13.7358048399))
            ThreePointArc((42.2744623313, -13.7358048399), (35.9608055344, -26.1270542793), (26.1270543581, -35.9608054772))
            Line((26.1270543581, -35.9608054772), (37.8114284312, -27.4716107999))
        make_face()
    extrude(amount=F6_DEPTH)


with BuildPart() as f6g:
    # F0 (on Top) → F6, piece 7 (new body)
    with BuildSketch(Plane.XY):
        with BuildLine():
            Line((14.4426804976, -44.45), (26.1270543581, -35.9608054772))
            ThreePointArc((26.1270543581, -35.9608054772), (13.7358053375, -42.2744621696), (0, -44.45))
            Line((0, -44.45), (14.4426804976, -44.45))
        make_face()
    extrude(amount=F6_DEPTH)


with BuildPart() as f6h:
    # F0 (on Top) → F6, piece 8 (new body)
    with BuildSketch(Plane.XY):
        with BuildLine():
            Line((-14.4426804976, -44.45), (0, -44.45))
            ThreePointArc((0, -44.45), (-13.7358056544, -42.2744620666), (-26.1270548973, -35.9608050854))
            Line((-26.1270548973, -35.9608050854), (-14.4426804976, -44.45))
        make_face()
    extrude(amount=F6_DEPTH)


with BuildPart() as f6i:
    # F0 (on Top) → F6, piece 9 (new body)
    with BuildSketch(Plane.XY):
        with BuildLine():
            Line((-37.8114284312, -27.4716107999), (-26.1270548973, -35.9608050854))
            ThreePointArc((-26.1270548973, -35.9608050854), (-35.9608055571, -26.1270542481), (-42.2744621492, -13.7358054003))
            Line((-42.2744621492, -13.7358054003), (-37.8114284312, -27.4716107999))
        make_face()
    extrude(amount=F6_DEPTH)


with BuildPart() as f6j:
    # F0 (on Top) → F6, piece 10 (new body)
    with BuildSketch(Plane.XY):
        with BuildLine():
            ThreePointArc((-42.2744621492, -13.7358054003), (-44.45, 0), (-42.2744621492, 13.7358054003))
            Line((-42.2744621492, 13.7358054003), (-46.7374958674, 0))
            Line((-46.7374958674, 0), (-42.2744621492, -13.7358054003))
        make_face()
    extrude(amount=F6_DEPTH)


with BuildPart() as f6k:
    # F0 (on Top) → F6, piece 11 (new body)
    with BuildSketch(Plane.XY):
        with BuildLine():
            ThreePointArc((-42.2744621492, 13.7358054003), (-35.9608054489, 26.1270543971), (-26.1270545992, 35.960805302))
            Line((-26.1270545992, 35.960805302), (-37.8114284312, 27.4716107999))
            Line((-37.8114284312, 27.4716107999), (-42.2744621492, 13.7358054003))
        make_face()
    extrude(amount=F6_DEPTH)


solid = Compound([f1.part, f1b.part, f1c.part, f3.part, f4.part, f6.part, f6b.part, f6c.part, f6d.part, f6e.part, f6f.part, f6g.part, f6h.part, f6i.part, f6j.part, f6k.part])
